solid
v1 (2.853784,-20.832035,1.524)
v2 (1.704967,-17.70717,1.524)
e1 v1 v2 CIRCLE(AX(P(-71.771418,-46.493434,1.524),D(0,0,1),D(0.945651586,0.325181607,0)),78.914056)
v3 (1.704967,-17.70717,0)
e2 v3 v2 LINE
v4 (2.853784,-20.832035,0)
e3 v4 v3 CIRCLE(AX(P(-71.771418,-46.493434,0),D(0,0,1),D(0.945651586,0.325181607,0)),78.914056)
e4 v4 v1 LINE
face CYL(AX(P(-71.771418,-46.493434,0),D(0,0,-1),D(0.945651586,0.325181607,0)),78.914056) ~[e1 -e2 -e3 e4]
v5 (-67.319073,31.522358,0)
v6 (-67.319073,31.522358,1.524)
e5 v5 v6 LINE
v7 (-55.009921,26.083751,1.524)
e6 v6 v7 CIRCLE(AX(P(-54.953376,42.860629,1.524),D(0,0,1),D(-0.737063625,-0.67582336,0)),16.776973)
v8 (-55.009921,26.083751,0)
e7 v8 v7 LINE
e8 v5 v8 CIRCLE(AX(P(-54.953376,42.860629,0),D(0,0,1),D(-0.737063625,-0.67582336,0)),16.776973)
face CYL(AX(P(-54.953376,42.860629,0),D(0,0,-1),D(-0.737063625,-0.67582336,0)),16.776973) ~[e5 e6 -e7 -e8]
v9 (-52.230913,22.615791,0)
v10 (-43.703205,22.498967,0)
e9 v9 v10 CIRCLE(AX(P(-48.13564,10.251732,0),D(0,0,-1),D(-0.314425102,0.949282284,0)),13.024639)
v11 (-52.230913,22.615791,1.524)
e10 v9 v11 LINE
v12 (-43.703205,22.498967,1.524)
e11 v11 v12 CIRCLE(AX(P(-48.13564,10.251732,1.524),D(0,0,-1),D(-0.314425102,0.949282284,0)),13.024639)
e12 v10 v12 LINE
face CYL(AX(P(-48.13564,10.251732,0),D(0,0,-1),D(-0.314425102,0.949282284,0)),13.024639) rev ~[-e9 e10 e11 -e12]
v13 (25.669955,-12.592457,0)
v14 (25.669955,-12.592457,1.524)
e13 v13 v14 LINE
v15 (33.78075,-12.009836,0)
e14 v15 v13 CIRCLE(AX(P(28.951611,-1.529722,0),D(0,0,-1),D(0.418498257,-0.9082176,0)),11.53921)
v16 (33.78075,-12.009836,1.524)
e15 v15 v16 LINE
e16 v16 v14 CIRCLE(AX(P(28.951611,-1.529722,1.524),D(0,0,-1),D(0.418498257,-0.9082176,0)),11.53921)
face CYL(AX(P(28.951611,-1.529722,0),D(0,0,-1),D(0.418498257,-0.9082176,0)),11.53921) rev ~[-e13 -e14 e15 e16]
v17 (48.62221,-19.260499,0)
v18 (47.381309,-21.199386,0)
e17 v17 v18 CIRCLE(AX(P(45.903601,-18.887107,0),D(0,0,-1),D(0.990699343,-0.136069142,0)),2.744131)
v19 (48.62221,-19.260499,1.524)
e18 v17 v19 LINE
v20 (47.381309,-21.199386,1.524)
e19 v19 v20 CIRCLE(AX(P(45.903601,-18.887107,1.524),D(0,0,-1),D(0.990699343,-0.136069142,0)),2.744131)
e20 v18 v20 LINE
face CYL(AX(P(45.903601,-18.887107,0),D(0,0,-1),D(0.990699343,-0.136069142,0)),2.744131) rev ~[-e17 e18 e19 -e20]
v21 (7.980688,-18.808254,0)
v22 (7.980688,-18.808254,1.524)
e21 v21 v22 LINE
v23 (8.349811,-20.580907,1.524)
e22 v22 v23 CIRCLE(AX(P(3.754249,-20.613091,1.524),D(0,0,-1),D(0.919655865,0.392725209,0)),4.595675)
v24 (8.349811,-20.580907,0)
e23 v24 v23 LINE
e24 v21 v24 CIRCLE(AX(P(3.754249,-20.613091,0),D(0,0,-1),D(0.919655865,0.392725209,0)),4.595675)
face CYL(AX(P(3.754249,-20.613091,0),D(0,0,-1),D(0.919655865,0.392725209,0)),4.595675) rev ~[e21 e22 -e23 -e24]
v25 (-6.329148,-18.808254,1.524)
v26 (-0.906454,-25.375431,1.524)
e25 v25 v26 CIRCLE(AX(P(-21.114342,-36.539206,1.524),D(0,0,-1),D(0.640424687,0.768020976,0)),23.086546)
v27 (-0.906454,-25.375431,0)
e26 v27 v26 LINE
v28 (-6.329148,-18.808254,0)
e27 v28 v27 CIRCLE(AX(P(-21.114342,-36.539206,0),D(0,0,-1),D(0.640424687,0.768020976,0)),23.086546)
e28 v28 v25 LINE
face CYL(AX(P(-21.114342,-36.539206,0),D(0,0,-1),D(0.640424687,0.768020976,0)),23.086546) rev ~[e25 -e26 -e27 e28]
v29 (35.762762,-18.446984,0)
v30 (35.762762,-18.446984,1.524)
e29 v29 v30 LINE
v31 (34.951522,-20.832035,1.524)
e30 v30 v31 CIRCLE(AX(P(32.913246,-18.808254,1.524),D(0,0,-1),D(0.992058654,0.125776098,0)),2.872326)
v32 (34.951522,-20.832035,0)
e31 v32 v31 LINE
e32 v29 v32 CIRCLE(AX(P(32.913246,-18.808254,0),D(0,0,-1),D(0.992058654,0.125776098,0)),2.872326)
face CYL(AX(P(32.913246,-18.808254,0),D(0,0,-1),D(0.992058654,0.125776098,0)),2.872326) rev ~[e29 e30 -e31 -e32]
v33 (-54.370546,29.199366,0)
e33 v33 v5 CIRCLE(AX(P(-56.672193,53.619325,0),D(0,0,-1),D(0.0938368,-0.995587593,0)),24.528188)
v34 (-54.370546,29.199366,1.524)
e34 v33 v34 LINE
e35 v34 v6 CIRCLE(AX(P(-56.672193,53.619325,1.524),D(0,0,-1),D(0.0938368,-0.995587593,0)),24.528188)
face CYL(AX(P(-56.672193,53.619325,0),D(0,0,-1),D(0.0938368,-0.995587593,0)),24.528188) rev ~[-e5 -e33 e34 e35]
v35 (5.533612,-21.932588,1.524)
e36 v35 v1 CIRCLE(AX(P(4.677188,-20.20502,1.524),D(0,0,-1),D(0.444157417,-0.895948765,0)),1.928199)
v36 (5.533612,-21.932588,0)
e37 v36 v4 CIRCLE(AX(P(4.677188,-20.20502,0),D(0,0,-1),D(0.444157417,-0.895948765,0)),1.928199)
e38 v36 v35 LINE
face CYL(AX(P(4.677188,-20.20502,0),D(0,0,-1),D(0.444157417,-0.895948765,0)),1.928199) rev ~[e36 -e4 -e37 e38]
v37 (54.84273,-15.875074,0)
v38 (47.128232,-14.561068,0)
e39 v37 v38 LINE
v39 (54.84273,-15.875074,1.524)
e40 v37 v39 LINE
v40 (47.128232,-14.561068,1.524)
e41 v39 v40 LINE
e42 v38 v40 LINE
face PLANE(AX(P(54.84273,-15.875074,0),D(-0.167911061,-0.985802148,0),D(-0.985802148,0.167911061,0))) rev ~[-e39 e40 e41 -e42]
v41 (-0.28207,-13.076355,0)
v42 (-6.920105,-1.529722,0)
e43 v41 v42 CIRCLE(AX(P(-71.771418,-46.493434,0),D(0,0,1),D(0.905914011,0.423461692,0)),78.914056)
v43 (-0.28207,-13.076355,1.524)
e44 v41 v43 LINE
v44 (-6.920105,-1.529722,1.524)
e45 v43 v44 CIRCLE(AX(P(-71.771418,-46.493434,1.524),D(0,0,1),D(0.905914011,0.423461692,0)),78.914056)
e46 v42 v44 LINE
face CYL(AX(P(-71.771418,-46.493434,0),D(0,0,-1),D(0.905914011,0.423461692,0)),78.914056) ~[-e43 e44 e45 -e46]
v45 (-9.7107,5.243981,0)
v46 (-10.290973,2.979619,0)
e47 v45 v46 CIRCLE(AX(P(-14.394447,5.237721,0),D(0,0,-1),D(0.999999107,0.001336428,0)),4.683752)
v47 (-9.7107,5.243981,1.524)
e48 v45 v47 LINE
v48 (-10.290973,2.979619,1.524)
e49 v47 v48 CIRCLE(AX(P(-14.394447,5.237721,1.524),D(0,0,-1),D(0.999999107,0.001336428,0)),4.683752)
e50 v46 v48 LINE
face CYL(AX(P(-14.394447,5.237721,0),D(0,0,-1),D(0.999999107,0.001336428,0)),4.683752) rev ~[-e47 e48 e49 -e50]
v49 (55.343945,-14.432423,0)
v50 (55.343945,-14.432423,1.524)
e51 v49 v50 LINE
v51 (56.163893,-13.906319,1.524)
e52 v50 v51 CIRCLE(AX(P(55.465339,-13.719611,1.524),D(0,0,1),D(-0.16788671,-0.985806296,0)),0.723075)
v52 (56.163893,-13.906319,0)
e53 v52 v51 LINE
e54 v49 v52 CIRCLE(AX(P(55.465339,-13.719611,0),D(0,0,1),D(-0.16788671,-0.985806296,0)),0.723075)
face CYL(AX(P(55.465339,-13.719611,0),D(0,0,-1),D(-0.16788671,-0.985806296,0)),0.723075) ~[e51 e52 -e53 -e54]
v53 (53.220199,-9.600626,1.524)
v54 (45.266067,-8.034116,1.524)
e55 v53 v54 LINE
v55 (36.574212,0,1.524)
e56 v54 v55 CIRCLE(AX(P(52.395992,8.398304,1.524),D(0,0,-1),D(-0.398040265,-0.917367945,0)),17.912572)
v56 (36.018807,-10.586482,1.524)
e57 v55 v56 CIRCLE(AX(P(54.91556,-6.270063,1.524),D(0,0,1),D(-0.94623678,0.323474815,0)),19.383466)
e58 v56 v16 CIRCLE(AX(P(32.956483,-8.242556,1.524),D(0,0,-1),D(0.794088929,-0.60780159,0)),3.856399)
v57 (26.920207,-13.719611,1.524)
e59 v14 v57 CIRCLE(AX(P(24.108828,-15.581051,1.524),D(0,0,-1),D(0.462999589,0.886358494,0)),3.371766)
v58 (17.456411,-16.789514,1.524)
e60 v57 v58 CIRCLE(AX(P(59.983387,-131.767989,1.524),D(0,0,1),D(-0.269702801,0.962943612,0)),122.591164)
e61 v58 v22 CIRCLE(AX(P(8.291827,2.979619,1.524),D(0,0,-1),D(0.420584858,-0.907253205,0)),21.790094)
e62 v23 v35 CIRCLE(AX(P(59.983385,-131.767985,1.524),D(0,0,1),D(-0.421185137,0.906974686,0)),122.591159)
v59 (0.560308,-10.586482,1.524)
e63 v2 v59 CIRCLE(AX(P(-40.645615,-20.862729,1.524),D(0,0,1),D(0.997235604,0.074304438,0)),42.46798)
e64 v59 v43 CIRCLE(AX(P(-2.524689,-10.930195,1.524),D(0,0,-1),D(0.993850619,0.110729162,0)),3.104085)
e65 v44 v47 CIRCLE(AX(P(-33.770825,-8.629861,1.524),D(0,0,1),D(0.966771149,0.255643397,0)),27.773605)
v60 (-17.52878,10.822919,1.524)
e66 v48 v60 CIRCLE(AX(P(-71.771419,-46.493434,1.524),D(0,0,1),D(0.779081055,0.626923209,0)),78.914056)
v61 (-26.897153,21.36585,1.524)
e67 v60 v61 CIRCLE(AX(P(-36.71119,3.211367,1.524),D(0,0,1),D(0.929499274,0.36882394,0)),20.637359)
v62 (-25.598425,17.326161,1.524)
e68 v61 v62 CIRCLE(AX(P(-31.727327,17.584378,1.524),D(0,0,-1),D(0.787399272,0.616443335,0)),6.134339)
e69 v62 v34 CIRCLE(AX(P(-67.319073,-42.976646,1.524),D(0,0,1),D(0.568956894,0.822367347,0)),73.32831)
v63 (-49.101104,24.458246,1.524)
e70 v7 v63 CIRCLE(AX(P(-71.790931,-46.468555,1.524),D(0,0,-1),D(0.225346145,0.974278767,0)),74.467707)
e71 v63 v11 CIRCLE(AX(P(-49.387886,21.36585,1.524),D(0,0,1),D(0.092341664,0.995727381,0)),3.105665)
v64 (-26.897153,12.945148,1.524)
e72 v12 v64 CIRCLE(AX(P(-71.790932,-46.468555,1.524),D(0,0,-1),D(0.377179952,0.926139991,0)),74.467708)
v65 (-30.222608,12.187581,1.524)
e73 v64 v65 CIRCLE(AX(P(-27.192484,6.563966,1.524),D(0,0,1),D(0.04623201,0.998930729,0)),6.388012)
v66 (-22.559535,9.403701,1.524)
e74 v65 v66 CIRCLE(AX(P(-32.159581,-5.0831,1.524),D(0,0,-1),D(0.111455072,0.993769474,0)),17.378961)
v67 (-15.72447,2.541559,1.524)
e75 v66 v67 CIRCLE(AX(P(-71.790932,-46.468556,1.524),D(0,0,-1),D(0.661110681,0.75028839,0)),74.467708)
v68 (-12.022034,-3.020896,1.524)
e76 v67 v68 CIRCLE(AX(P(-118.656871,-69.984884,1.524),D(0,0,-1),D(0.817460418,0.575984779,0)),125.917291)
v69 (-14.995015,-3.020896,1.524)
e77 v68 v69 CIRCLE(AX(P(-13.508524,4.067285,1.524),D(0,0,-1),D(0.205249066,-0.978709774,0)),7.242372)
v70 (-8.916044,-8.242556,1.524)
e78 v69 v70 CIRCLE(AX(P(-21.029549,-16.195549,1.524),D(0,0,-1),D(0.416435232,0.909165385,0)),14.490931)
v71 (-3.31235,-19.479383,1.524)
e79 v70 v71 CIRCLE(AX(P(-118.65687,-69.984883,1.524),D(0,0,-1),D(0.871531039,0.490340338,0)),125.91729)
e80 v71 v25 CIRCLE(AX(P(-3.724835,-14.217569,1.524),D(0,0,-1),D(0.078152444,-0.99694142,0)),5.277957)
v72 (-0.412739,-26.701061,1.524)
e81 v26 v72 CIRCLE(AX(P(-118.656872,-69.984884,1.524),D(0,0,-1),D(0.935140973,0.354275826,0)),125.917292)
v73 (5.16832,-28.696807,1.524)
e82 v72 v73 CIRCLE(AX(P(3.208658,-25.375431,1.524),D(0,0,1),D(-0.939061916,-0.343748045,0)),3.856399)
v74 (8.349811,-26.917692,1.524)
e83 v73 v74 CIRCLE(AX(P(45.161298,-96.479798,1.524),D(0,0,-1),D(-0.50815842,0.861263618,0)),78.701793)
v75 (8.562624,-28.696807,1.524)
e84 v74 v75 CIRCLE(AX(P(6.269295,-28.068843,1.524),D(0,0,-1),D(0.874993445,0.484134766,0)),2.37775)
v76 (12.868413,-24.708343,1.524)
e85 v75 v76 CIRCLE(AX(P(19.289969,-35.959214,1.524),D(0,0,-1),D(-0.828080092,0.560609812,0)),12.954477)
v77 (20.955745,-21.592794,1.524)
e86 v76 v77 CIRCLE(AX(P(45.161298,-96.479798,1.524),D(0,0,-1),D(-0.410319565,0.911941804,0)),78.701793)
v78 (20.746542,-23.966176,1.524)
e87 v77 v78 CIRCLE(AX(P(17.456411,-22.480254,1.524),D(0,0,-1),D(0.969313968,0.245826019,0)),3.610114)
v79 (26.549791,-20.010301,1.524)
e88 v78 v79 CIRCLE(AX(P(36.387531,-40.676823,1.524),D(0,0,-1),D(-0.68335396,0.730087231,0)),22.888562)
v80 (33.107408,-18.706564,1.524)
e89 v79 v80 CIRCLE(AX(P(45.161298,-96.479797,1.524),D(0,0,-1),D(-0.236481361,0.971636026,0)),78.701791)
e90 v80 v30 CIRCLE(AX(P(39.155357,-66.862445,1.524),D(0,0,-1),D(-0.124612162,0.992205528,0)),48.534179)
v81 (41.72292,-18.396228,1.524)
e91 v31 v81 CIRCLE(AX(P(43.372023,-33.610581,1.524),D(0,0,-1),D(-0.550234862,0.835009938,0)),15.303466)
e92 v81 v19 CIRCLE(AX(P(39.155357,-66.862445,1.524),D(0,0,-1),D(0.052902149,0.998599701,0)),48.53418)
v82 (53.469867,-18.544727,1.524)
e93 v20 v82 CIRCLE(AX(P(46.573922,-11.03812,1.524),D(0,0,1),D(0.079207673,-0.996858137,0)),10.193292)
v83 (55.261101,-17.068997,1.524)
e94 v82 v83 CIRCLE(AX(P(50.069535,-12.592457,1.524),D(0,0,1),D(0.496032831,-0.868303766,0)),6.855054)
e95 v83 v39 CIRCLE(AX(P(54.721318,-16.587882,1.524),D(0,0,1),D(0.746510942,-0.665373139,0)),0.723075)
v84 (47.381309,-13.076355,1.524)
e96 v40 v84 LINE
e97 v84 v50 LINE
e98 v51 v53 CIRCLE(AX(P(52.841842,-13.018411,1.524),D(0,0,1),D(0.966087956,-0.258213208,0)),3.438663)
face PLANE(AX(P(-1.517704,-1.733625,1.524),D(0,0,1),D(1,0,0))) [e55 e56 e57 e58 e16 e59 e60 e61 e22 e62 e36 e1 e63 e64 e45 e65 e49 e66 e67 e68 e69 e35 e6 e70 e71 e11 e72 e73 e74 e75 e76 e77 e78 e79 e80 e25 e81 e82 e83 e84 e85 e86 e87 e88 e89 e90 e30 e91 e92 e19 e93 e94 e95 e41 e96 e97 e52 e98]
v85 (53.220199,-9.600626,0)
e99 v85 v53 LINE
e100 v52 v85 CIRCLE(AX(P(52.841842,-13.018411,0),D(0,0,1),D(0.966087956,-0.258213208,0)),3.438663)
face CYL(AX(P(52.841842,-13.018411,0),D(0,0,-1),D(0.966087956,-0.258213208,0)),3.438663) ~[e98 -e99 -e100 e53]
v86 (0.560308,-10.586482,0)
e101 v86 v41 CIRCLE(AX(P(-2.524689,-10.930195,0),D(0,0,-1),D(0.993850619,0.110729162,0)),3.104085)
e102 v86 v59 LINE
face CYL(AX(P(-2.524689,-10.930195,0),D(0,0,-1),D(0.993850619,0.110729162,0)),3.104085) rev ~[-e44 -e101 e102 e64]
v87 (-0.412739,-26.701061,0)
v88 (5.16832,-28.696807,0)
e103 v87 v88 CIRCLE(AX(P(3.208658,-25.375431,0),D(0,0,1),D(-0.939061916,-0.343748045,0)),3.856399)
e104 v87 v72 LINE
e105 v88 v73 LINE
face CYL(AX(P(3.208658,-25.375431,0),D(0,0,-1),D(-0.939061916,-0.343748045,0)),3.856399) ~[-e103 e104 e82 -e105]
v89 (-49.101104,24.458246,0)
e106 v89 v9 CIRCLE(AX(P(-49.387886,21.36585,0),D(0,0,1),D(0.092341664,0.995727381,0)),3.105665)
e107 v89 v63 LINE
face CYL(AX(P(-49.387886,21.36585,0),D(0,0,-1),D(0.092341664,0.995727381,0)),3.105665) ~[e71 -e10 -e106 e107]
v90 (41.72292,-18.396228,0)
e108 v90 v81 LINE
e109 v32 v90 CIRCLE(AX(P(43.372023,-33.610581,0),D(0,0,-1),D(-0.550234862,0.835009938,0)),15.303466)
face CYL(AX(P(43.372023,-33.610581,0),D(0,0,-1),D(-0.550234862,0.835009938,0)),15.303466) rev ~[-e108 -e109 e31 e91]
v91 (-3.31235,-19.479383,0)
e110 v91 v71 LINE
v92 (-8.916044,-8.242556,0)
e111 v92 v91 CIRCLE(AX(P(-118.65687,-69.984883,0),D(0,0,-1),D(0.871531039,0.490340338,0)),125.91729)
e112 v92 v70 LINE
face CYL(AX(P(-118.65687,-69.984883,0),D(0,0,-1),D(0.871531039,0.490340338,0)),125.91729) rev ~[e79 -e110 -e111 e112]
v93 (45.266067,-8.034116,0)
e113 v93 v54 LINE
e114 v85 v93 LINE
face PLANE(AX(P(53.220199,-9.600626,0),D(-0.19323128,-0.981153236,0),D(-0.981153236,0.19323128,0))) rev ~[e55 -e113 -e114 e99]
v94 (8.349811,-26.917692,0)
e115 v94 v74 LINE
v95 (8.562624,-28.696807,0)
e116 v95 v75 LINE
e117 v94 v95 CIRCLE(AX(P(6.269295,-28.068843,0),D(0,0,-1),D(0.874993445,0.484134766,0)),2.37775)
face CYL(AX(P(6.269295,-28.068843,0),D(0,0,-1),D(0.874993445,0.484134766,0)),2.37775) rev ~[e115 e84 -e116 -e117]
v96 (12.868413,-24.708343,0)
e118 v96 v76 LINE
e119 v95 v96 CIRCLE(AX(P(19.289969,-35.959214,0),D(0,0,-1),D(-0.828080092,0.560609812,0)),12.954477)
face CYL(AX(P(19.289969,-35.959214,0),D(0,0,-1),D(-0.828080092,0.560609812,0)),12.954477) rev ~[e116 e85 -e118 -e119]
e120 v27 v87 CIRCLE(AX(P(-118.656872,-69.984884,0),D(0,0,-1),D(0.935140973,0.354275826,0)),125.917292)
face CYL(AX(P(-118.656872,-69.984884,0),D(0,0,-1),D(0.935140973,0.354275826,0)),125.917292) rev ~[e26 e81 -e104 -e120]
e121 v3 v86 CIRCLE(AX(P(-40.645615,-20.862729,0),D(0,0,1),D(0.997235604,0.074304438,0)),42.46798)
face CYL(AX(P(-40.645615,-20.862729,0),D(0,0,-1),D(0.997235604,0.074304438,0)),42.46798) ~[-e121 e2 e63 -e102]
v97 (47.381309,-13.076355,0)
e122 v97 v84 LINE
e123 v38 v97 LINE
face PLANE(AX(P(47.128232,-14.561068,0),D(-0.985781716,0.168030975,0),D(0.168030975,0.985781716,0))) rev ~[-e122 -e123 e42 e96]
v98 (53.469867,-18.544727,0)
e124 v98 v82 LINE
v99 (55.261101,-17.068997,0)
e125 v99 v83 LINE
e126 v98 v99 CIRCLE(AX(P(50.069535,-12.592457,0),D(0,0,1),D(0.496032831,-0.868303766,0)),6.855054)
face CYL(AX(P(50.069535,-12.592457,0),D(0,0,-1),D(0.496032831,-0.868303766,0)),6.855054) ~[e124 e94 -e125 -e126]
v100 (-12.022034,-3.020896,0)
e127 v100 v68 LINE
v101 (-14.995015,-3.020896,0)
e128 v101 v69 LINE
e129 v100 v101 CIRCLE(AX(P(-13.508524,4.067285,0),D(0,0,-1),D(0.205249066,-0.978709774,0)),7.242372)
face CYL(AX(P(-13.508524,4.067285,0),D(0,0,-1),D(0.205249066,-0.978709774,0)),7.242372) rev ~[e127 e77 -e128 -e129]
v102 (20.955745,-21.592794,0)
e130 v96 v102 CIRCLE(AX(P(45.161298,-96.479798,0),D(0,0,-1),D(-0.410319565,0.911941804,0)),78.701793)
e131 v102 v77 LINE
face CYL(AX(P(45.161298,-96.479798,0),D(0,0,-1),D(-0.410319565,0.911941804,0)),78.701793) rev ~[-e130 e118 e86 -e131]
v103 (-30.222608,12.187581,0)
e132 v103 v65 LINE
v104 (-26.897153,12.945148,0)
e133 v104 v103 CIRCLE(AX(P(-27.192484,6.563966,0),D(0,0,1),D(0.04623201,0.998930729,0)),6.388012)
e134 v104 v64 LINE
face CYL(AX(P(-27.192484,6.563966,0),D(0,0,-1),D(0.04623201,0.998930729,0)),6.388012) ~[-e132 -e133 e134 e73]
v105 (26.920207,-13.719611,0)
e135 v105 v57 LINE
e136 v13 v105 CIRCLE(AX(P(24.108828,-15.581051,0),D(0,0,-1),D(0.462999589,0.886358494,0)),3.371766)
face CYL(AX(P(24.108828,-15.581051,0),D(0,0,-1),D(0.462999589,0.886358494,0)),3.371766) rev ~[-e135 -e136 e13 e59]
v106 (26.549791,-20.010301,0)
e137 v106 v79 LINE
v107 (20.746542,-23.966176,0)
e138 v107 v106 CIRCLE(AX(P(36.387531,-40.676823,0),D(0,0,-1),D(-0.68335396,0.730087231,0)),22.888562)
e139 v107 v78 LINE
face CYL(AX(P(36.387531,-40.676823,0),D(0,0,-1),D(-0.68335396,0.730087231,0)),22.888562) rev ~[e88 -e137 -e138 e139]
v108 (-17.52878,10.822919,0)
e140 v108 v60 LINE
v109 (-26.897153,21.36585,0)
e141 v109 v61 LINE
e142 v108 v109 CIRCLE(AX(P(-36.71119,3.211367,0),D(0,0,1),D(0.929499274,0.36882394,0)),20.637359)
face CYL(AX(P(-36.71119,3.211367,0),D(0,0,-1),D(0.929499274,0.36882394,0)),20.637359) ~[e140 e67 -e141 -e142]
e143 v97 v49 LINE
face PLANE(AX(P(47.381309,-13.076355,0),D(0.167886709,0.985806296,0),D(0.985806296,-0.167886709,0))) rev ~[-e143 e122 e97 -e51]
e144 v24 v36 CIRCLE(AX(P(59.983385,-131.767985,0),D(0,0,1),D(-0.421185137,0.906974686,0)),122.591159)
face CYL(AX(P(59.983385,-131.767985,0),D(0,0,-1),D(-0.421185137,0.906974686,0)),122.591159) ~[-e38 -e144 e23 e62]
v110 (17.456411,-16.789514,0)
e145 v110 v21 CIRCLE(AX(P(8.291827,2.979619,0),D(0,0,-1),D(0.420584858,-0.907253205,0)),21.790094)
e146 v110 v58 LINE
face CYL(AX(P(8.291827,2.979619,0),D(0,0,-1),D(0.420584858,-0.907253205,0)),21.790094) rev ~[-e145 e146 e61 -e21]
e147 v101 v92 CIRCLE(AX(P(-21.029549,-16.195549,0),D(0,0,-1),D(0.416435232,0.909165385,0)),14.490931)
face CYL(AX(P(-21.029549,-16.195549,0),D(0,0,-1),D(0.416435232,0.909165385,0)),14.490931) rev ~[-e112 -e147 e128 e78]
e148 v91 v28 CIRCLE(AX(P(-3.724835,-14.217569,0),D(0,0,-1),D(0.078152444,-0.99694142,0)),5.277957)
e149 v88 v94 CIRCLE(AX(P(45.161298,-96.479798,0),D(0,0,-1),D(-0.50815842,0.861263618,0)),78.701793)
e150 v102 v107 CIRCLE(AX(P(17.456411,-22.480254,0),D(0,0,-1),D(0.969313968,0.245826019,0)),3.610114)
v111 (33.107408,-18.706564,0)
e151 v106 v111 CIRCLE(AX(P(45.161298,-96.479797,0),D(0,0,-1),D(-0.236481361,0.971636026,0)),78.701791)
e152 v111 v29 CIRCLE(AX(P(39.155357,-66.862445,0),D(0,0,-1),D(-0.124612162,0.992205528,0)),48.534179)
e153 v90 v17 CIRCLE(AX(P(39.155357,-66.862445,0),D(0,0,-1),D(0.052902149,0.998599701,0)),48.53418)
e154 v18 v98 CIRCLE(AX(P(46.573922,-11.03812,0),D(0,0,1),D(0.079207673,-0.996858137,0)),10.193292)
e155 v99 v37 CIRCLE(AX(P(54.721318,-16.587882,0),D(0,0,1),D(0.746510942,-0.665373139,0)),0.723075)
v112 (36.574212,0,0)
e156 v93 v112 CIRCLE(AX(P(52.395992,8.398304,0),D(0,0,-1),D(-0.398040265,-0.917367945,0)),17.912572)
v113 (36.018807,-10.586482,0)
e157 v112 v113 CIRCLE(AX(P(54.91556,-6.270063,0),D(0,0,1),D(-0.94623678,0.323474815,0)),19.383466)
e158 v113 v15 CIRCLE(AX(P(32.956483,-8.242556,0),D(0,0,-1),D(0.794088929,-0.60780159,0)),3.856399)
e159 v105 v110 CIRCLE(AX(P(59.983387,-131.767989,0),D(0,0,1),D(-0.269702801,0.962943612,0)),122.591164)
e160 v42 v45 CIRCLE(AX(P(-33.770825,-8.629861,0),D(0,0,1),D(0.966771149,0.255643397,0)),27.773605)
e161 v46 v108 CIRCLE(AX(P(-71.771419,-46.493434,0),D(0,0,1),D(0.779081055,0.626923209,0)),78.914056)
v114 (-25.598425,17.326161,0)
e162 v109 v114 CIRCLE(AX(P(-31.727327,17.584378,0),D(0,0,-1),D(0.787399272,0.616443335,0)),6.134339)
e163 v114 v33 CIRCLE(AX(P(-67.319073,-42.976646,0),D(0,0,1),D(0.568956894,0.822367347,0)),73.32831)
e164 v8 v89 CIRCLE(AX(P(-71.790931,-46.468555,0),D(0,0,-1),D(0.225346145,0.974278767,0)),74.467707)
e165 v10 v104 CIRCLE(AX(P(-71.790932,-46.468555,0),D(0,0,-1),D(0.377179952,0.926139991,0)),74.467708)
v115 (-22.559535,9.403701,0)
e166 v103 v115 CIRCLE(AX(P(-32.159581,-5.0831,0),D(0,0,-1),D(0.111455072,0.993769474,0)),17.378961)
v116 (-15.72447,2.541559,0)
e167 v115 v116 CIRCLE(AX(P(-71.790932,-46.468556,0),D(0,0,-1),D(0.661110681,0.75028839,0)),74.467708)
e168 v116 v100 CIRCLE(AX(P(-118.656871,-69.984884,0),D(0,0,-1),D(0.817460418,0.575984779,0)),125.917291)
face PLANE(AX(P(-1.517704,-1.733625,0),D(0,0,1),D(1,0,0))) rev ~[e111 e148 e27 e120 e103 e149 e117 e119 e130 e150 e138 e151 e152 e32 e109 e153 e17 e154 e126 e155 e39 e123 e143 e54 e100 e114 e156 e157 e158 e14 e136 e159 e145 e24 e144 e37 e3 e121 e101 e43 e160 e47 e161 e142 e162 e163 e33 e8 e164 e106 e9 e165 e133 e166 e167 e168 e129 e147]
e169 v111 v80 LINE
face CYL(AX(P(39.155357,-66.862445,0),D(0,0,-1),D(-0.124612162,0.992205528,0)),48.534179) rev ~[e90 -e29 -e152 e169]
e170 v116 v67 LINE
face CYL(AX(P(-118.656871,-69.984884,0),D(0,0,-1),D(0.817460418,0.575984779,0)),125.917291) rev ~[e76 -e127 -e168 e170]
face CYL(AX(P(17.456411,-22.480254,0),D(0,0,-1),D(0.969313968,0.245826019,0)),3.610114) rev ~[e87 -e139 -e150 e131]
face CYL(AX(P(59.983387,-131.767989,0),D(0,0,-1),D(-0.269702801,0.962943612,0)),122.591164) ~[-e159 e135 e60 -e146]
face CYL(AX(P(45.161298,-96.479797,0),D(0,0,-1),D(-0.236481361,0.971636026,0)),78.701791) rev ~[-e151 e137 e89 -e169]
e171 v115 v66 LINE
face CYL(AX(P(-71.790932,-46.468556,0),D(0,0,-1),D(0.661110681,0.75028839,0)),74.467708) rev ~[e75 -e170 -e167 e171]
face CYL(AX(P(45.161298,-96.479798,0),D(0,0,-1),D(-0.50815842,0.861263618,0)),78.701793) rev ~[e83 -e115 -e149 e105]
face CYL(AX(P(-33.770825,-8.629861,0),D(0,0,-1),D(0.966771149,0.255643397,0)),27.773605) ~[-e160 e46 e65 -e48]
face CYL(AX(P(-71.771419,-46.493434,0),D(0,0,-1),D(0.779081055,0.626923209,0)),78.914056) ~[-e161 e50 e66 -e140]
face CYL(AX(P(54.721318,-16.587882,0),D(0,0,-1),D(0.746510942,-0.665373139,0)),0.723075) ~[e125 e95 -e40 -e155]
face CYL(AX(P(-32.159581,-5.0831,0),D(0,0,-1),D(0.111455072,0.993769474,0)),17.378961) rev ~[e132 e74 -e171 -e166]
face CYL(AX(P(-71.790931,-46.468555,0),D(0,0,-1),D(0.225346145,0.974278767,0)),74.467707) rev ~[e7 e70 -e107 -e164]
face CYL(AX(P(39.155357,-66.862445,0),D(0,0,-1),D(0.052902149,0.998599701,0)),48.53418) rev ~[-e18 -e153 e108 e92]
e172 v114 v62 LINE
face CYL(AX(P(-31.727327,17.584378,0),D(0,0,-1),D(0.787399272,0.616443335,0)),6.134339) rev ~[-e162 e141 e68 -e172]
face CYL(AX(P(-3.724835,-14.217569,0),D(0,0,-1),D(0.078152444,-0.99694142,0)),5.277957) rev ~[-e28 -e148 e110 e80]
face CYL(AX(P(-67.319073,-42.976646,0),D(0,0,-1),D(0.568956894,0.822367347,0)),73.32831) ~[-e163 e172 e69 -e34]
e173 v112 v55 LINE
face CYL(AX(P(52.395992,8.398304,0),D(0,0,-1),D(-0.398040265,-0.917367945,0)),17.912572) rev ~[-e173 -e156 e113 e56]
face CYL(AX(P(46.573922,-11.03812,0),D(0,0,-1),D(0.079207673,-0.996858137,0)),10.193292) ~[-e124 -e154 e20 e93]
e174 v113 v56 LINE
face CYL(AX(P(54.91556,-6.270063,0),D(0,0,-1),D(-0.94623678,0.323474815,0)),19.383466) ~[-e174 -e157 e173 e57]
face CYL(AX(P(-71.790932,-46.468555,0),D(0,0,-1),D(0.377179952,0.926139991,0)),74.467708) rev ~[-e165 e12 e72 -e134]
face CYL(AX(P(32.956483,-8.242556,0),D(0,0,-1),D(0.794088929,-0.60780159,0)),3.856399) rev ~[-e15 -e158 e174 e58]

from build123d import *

# Parameters (mm, degrees)
BOSS_EXTRUDE1_DEPTH = 1.524


with BuildPart() as part:
    # Sketch1 → Boss-Extrude1 (new body)
    with BuildSketch(Plane.XY):
        with BuildLine():
            Line((47.381308576, -13.076354562), (55.343944742, -14.432422978))
            ThreePointArc((55.343944742, -14.432422978), (55.855819335, -14.328185498), (56.163893215, -13.906318771))
            ThreePointArc((56.163893215, -13.906318771), (55.680504041, -11.077688455), (53.220198686, -9.600626466))
            Line((53.220198686, -9.600626466), (45.266067061, -8.034115775))
            ThreePointArc((45.266067061, -8.034115775), (40.237375781, -4.755718158), (36.574211612, 0))
            ThreePointArc((36.574211612, 0), (35.55871494, -5.254533576), (36.018806888, -10.586481811))
            ThreePointArc((36.018806888, -10.586481811), (35.025995436, -11.496620285), (33.780750037, -12.009836144))
            ThreePointArc((33.780750037, -12.009836144), (29.778374213, -13.039276401), (25.669954537, -12.592457382))
            ThreePointArc((25.669954537, -12.592457382), (26.366552456, -13.076757004), (26.920206789, -13.719611314))
            ThreePointArc((26.920206789, -13.719611314), (22.157152762, -15.15851527), (17.456411215, -16.789514096))
            ThreePointArc((17.456411215, -16.789514096), (12.832168531, -18.332197491), (7.980688074, -18.808254041))
            ThreePointArc((7.980688074, -18.808254041), (8.253415585, -19.676221582), (8.349810899, -20.580907104))
            ThreePointArc((8.349810899, -20.580907104), (6.937406163, -21.247776917), (5.53361242, -21.932587557))
            ThreePointArc((5.53361242, -21.932587557), (3.944680946, -21.988663657), (2.853783543, -20.83203467))
            ThreePointArc((2.853783543, -20.83203467), (2.29585657, -19.263543096), (1.704966772, -17.707169885))
            ThreePointArc((1.704966772, -17.707169885), (1.284069131, -14.122482995), (0.560307739, -10.586481811))
            ThreePointArc((0.560307739, -10.586481811), (0.415674848, -11.924982959), (-0.282069682, -13.076354562))
            ThreePointArc((-0.282069682, -13.076354562), (-3.357054523, -7.162746337), (-6.920105474, -1.52972211))
            ThreePointArc((-6.920105474, -1.52972211), (-8.0910802, 1.949544484), (-9.710699696, 5.243980782))
            ThreePointArc((-9.710699696, 5.243980782), (-9.857305852, 4.075018277), (-10.290972629, 2.979618885))
            ThreePointArc((-10.290972629, 2.979618885), (-13.777130717, 7.023766683), (-17.528779794, 10.822919067))
            ThreePointArc((-17.528779794, 10.822919067), (-21.284368064, 16.919530678), (-26.897153204, 21.365850433))
            ThreePointArc((-26.897153204, 21.365850433), (-25.887369361, 19.461878078), (-25.598425379, 17.326161451))
            ThreePointArc((-25.598425379, 17.326161451), (-39.347249709, 24.806966458), (-54.370546376, 29.199365714))
            ThreePointArc((-54.370546376, 29.199365714), (-61.003451809, 29.476578966), (-67.319072822, 31.522358252))
            ThreePointArc((-67.319072822, 31.522358252), (-61.733688319, 27.51480849), (-55.009920851, 26.08375078))
            ThreePointArc((-55.009920851, 26.08375078), (-52.038783927, 25.331807522), (-49.101103933, 24.458246116))
            ThreePointArc((-49.101103933, 24.458246116), (-50.963404132, 24.042209603), (-52.230913262, 22.615791355))
            ThreePointArc((-52.230913262, 22.615791355), (-47.957226248, 23.275149282), (-43.703205331, 22.498966559))
            ThreePointArc((-43.703205331, 22.498966559), (-34.98884104, 18.269729883), (-26.897153204, 12.945147661))
            ThreePointArc((-26.897153204, 12.945147661), (-28.611374467, 12.792404738), (-30.222607976, 12.187581193))
            ThreePointArc((-30.222607976, 12.187581193), (-26.225509878, 11.251375507), (-22.559534857, 9.403700904))
            ThreePointArc((-22.559534857, 9.403700904), (-19.030321473, 6.083870505), (-15.72447016, 2.541559382))
            ThreePointArc((-15.72447016, 2.541559382), (-13.836348231, -0.215104475), (-12.02203426, -3.020895781))
            ThreePointArc((-12.02203426, -3.020895781), (-13.508524403, -3.175087526), (-14.995014547, -3.020895781))
            ThreePointArc((-14.995014547, -3.020895781), (-11.58739515, -5.203150516), (-8.916043995, -8.242556493))
            ThreePointArc((-8.916043995, -8.242556493), (-5.974041698, -13.791075709), (-3.312350182, -19.479383127))
            ThreePointArc((-3.312350182, -19.479383127), (-4.870972445, -19.369578502), (-6.329147764, -18.808254041))
            ThreePointArc((-6.329147764, -18.808254041), (-3.312350182, -21.839623943), (-0.906453557, -25.375431145))
            ThreePointArc((-0.906453557, -25.375431145), (-0.657734758, -26.037552601), (-0.412739096, -26.701060692))
            ThreePointArc((-0.412739096, -26.701060692), (1.91016195, -29.006645717), (5.168319653, -28.696807117))
            ThreePointArc((5.168319653, -28.696807117), (6.748763707, -27.788827847), (8.349810899, -26.917692008))
            ThreePointArc((8.349810899, -26.917692008), (8.630214839, -27.78643645), (8.562623992, -28.696807117))
            ThreePointArc((8.562623992, -28.696807117), (10.486664845, -26.455513742), (12.868412887, -24.70834304))
            ThreePointArc((12.868412887, -24.70834304), (16.869160672, -23.03916113), (20.955745156, -21.592793838))
            ThreePointArc((20.955745156, -21.592793838), (21.05258172, -22.797241034), (20.746541516, -23.966176344))
            ThreePointArc((20.746541516, -23.966176344), (23.495531579, -21.764324116), (26.549791209, -20.010300822))
            ThreePointArc((26.549791209, -20.010300822), (29.81474898, -19.288764723), (33.107408372, -18.706563972))
            ThreePointArc((33.107408372, -18.706563972), (34.43330114, -18.558524355), (35.762761976, -18.446984027))
            ThreePointArc((35.762761976, -18.446984027), (35.632573955, -19.733193435), (34.951522192, -20.83203467))
            ThreePointArc((34.951522192, -20.83203467), (38.192011454, -19.210457415), (41.722919829, -18.396228022))
            ThreePointArc((41.722919829, -18.396228022), (45.188062045, -18.704651863), (48.622209673, -19.26049889))
            ThreePointArc((48.622209673, -19.26049889), (48.214896908, -20.366352247), (47.381308576, -21.199386357))
            ThreePointArc((47.381308576, -21.199386357), (50.647879824, -20.381891812), (53.469866719, -18.544726873))
            ThreePointArc((53.469866719, -18.544726873), (54.428390669, -17.883217687), (55.261101332, -17.068996882))
            ThreePointArc((55.261101332, -17.068996882), (55.403709497, -16.34876081), (54.842730354, -15.875073687))
            Line((54.842730354, -15.875073687), (47.128232405, -14.561068095))
            Line((47.128232405, -14.561068095), (47.381308576, -13.076354562))
        make_face()
    extrude(amount=BOSS_EXTRUDE1_DEPTH)


solid = part.part
